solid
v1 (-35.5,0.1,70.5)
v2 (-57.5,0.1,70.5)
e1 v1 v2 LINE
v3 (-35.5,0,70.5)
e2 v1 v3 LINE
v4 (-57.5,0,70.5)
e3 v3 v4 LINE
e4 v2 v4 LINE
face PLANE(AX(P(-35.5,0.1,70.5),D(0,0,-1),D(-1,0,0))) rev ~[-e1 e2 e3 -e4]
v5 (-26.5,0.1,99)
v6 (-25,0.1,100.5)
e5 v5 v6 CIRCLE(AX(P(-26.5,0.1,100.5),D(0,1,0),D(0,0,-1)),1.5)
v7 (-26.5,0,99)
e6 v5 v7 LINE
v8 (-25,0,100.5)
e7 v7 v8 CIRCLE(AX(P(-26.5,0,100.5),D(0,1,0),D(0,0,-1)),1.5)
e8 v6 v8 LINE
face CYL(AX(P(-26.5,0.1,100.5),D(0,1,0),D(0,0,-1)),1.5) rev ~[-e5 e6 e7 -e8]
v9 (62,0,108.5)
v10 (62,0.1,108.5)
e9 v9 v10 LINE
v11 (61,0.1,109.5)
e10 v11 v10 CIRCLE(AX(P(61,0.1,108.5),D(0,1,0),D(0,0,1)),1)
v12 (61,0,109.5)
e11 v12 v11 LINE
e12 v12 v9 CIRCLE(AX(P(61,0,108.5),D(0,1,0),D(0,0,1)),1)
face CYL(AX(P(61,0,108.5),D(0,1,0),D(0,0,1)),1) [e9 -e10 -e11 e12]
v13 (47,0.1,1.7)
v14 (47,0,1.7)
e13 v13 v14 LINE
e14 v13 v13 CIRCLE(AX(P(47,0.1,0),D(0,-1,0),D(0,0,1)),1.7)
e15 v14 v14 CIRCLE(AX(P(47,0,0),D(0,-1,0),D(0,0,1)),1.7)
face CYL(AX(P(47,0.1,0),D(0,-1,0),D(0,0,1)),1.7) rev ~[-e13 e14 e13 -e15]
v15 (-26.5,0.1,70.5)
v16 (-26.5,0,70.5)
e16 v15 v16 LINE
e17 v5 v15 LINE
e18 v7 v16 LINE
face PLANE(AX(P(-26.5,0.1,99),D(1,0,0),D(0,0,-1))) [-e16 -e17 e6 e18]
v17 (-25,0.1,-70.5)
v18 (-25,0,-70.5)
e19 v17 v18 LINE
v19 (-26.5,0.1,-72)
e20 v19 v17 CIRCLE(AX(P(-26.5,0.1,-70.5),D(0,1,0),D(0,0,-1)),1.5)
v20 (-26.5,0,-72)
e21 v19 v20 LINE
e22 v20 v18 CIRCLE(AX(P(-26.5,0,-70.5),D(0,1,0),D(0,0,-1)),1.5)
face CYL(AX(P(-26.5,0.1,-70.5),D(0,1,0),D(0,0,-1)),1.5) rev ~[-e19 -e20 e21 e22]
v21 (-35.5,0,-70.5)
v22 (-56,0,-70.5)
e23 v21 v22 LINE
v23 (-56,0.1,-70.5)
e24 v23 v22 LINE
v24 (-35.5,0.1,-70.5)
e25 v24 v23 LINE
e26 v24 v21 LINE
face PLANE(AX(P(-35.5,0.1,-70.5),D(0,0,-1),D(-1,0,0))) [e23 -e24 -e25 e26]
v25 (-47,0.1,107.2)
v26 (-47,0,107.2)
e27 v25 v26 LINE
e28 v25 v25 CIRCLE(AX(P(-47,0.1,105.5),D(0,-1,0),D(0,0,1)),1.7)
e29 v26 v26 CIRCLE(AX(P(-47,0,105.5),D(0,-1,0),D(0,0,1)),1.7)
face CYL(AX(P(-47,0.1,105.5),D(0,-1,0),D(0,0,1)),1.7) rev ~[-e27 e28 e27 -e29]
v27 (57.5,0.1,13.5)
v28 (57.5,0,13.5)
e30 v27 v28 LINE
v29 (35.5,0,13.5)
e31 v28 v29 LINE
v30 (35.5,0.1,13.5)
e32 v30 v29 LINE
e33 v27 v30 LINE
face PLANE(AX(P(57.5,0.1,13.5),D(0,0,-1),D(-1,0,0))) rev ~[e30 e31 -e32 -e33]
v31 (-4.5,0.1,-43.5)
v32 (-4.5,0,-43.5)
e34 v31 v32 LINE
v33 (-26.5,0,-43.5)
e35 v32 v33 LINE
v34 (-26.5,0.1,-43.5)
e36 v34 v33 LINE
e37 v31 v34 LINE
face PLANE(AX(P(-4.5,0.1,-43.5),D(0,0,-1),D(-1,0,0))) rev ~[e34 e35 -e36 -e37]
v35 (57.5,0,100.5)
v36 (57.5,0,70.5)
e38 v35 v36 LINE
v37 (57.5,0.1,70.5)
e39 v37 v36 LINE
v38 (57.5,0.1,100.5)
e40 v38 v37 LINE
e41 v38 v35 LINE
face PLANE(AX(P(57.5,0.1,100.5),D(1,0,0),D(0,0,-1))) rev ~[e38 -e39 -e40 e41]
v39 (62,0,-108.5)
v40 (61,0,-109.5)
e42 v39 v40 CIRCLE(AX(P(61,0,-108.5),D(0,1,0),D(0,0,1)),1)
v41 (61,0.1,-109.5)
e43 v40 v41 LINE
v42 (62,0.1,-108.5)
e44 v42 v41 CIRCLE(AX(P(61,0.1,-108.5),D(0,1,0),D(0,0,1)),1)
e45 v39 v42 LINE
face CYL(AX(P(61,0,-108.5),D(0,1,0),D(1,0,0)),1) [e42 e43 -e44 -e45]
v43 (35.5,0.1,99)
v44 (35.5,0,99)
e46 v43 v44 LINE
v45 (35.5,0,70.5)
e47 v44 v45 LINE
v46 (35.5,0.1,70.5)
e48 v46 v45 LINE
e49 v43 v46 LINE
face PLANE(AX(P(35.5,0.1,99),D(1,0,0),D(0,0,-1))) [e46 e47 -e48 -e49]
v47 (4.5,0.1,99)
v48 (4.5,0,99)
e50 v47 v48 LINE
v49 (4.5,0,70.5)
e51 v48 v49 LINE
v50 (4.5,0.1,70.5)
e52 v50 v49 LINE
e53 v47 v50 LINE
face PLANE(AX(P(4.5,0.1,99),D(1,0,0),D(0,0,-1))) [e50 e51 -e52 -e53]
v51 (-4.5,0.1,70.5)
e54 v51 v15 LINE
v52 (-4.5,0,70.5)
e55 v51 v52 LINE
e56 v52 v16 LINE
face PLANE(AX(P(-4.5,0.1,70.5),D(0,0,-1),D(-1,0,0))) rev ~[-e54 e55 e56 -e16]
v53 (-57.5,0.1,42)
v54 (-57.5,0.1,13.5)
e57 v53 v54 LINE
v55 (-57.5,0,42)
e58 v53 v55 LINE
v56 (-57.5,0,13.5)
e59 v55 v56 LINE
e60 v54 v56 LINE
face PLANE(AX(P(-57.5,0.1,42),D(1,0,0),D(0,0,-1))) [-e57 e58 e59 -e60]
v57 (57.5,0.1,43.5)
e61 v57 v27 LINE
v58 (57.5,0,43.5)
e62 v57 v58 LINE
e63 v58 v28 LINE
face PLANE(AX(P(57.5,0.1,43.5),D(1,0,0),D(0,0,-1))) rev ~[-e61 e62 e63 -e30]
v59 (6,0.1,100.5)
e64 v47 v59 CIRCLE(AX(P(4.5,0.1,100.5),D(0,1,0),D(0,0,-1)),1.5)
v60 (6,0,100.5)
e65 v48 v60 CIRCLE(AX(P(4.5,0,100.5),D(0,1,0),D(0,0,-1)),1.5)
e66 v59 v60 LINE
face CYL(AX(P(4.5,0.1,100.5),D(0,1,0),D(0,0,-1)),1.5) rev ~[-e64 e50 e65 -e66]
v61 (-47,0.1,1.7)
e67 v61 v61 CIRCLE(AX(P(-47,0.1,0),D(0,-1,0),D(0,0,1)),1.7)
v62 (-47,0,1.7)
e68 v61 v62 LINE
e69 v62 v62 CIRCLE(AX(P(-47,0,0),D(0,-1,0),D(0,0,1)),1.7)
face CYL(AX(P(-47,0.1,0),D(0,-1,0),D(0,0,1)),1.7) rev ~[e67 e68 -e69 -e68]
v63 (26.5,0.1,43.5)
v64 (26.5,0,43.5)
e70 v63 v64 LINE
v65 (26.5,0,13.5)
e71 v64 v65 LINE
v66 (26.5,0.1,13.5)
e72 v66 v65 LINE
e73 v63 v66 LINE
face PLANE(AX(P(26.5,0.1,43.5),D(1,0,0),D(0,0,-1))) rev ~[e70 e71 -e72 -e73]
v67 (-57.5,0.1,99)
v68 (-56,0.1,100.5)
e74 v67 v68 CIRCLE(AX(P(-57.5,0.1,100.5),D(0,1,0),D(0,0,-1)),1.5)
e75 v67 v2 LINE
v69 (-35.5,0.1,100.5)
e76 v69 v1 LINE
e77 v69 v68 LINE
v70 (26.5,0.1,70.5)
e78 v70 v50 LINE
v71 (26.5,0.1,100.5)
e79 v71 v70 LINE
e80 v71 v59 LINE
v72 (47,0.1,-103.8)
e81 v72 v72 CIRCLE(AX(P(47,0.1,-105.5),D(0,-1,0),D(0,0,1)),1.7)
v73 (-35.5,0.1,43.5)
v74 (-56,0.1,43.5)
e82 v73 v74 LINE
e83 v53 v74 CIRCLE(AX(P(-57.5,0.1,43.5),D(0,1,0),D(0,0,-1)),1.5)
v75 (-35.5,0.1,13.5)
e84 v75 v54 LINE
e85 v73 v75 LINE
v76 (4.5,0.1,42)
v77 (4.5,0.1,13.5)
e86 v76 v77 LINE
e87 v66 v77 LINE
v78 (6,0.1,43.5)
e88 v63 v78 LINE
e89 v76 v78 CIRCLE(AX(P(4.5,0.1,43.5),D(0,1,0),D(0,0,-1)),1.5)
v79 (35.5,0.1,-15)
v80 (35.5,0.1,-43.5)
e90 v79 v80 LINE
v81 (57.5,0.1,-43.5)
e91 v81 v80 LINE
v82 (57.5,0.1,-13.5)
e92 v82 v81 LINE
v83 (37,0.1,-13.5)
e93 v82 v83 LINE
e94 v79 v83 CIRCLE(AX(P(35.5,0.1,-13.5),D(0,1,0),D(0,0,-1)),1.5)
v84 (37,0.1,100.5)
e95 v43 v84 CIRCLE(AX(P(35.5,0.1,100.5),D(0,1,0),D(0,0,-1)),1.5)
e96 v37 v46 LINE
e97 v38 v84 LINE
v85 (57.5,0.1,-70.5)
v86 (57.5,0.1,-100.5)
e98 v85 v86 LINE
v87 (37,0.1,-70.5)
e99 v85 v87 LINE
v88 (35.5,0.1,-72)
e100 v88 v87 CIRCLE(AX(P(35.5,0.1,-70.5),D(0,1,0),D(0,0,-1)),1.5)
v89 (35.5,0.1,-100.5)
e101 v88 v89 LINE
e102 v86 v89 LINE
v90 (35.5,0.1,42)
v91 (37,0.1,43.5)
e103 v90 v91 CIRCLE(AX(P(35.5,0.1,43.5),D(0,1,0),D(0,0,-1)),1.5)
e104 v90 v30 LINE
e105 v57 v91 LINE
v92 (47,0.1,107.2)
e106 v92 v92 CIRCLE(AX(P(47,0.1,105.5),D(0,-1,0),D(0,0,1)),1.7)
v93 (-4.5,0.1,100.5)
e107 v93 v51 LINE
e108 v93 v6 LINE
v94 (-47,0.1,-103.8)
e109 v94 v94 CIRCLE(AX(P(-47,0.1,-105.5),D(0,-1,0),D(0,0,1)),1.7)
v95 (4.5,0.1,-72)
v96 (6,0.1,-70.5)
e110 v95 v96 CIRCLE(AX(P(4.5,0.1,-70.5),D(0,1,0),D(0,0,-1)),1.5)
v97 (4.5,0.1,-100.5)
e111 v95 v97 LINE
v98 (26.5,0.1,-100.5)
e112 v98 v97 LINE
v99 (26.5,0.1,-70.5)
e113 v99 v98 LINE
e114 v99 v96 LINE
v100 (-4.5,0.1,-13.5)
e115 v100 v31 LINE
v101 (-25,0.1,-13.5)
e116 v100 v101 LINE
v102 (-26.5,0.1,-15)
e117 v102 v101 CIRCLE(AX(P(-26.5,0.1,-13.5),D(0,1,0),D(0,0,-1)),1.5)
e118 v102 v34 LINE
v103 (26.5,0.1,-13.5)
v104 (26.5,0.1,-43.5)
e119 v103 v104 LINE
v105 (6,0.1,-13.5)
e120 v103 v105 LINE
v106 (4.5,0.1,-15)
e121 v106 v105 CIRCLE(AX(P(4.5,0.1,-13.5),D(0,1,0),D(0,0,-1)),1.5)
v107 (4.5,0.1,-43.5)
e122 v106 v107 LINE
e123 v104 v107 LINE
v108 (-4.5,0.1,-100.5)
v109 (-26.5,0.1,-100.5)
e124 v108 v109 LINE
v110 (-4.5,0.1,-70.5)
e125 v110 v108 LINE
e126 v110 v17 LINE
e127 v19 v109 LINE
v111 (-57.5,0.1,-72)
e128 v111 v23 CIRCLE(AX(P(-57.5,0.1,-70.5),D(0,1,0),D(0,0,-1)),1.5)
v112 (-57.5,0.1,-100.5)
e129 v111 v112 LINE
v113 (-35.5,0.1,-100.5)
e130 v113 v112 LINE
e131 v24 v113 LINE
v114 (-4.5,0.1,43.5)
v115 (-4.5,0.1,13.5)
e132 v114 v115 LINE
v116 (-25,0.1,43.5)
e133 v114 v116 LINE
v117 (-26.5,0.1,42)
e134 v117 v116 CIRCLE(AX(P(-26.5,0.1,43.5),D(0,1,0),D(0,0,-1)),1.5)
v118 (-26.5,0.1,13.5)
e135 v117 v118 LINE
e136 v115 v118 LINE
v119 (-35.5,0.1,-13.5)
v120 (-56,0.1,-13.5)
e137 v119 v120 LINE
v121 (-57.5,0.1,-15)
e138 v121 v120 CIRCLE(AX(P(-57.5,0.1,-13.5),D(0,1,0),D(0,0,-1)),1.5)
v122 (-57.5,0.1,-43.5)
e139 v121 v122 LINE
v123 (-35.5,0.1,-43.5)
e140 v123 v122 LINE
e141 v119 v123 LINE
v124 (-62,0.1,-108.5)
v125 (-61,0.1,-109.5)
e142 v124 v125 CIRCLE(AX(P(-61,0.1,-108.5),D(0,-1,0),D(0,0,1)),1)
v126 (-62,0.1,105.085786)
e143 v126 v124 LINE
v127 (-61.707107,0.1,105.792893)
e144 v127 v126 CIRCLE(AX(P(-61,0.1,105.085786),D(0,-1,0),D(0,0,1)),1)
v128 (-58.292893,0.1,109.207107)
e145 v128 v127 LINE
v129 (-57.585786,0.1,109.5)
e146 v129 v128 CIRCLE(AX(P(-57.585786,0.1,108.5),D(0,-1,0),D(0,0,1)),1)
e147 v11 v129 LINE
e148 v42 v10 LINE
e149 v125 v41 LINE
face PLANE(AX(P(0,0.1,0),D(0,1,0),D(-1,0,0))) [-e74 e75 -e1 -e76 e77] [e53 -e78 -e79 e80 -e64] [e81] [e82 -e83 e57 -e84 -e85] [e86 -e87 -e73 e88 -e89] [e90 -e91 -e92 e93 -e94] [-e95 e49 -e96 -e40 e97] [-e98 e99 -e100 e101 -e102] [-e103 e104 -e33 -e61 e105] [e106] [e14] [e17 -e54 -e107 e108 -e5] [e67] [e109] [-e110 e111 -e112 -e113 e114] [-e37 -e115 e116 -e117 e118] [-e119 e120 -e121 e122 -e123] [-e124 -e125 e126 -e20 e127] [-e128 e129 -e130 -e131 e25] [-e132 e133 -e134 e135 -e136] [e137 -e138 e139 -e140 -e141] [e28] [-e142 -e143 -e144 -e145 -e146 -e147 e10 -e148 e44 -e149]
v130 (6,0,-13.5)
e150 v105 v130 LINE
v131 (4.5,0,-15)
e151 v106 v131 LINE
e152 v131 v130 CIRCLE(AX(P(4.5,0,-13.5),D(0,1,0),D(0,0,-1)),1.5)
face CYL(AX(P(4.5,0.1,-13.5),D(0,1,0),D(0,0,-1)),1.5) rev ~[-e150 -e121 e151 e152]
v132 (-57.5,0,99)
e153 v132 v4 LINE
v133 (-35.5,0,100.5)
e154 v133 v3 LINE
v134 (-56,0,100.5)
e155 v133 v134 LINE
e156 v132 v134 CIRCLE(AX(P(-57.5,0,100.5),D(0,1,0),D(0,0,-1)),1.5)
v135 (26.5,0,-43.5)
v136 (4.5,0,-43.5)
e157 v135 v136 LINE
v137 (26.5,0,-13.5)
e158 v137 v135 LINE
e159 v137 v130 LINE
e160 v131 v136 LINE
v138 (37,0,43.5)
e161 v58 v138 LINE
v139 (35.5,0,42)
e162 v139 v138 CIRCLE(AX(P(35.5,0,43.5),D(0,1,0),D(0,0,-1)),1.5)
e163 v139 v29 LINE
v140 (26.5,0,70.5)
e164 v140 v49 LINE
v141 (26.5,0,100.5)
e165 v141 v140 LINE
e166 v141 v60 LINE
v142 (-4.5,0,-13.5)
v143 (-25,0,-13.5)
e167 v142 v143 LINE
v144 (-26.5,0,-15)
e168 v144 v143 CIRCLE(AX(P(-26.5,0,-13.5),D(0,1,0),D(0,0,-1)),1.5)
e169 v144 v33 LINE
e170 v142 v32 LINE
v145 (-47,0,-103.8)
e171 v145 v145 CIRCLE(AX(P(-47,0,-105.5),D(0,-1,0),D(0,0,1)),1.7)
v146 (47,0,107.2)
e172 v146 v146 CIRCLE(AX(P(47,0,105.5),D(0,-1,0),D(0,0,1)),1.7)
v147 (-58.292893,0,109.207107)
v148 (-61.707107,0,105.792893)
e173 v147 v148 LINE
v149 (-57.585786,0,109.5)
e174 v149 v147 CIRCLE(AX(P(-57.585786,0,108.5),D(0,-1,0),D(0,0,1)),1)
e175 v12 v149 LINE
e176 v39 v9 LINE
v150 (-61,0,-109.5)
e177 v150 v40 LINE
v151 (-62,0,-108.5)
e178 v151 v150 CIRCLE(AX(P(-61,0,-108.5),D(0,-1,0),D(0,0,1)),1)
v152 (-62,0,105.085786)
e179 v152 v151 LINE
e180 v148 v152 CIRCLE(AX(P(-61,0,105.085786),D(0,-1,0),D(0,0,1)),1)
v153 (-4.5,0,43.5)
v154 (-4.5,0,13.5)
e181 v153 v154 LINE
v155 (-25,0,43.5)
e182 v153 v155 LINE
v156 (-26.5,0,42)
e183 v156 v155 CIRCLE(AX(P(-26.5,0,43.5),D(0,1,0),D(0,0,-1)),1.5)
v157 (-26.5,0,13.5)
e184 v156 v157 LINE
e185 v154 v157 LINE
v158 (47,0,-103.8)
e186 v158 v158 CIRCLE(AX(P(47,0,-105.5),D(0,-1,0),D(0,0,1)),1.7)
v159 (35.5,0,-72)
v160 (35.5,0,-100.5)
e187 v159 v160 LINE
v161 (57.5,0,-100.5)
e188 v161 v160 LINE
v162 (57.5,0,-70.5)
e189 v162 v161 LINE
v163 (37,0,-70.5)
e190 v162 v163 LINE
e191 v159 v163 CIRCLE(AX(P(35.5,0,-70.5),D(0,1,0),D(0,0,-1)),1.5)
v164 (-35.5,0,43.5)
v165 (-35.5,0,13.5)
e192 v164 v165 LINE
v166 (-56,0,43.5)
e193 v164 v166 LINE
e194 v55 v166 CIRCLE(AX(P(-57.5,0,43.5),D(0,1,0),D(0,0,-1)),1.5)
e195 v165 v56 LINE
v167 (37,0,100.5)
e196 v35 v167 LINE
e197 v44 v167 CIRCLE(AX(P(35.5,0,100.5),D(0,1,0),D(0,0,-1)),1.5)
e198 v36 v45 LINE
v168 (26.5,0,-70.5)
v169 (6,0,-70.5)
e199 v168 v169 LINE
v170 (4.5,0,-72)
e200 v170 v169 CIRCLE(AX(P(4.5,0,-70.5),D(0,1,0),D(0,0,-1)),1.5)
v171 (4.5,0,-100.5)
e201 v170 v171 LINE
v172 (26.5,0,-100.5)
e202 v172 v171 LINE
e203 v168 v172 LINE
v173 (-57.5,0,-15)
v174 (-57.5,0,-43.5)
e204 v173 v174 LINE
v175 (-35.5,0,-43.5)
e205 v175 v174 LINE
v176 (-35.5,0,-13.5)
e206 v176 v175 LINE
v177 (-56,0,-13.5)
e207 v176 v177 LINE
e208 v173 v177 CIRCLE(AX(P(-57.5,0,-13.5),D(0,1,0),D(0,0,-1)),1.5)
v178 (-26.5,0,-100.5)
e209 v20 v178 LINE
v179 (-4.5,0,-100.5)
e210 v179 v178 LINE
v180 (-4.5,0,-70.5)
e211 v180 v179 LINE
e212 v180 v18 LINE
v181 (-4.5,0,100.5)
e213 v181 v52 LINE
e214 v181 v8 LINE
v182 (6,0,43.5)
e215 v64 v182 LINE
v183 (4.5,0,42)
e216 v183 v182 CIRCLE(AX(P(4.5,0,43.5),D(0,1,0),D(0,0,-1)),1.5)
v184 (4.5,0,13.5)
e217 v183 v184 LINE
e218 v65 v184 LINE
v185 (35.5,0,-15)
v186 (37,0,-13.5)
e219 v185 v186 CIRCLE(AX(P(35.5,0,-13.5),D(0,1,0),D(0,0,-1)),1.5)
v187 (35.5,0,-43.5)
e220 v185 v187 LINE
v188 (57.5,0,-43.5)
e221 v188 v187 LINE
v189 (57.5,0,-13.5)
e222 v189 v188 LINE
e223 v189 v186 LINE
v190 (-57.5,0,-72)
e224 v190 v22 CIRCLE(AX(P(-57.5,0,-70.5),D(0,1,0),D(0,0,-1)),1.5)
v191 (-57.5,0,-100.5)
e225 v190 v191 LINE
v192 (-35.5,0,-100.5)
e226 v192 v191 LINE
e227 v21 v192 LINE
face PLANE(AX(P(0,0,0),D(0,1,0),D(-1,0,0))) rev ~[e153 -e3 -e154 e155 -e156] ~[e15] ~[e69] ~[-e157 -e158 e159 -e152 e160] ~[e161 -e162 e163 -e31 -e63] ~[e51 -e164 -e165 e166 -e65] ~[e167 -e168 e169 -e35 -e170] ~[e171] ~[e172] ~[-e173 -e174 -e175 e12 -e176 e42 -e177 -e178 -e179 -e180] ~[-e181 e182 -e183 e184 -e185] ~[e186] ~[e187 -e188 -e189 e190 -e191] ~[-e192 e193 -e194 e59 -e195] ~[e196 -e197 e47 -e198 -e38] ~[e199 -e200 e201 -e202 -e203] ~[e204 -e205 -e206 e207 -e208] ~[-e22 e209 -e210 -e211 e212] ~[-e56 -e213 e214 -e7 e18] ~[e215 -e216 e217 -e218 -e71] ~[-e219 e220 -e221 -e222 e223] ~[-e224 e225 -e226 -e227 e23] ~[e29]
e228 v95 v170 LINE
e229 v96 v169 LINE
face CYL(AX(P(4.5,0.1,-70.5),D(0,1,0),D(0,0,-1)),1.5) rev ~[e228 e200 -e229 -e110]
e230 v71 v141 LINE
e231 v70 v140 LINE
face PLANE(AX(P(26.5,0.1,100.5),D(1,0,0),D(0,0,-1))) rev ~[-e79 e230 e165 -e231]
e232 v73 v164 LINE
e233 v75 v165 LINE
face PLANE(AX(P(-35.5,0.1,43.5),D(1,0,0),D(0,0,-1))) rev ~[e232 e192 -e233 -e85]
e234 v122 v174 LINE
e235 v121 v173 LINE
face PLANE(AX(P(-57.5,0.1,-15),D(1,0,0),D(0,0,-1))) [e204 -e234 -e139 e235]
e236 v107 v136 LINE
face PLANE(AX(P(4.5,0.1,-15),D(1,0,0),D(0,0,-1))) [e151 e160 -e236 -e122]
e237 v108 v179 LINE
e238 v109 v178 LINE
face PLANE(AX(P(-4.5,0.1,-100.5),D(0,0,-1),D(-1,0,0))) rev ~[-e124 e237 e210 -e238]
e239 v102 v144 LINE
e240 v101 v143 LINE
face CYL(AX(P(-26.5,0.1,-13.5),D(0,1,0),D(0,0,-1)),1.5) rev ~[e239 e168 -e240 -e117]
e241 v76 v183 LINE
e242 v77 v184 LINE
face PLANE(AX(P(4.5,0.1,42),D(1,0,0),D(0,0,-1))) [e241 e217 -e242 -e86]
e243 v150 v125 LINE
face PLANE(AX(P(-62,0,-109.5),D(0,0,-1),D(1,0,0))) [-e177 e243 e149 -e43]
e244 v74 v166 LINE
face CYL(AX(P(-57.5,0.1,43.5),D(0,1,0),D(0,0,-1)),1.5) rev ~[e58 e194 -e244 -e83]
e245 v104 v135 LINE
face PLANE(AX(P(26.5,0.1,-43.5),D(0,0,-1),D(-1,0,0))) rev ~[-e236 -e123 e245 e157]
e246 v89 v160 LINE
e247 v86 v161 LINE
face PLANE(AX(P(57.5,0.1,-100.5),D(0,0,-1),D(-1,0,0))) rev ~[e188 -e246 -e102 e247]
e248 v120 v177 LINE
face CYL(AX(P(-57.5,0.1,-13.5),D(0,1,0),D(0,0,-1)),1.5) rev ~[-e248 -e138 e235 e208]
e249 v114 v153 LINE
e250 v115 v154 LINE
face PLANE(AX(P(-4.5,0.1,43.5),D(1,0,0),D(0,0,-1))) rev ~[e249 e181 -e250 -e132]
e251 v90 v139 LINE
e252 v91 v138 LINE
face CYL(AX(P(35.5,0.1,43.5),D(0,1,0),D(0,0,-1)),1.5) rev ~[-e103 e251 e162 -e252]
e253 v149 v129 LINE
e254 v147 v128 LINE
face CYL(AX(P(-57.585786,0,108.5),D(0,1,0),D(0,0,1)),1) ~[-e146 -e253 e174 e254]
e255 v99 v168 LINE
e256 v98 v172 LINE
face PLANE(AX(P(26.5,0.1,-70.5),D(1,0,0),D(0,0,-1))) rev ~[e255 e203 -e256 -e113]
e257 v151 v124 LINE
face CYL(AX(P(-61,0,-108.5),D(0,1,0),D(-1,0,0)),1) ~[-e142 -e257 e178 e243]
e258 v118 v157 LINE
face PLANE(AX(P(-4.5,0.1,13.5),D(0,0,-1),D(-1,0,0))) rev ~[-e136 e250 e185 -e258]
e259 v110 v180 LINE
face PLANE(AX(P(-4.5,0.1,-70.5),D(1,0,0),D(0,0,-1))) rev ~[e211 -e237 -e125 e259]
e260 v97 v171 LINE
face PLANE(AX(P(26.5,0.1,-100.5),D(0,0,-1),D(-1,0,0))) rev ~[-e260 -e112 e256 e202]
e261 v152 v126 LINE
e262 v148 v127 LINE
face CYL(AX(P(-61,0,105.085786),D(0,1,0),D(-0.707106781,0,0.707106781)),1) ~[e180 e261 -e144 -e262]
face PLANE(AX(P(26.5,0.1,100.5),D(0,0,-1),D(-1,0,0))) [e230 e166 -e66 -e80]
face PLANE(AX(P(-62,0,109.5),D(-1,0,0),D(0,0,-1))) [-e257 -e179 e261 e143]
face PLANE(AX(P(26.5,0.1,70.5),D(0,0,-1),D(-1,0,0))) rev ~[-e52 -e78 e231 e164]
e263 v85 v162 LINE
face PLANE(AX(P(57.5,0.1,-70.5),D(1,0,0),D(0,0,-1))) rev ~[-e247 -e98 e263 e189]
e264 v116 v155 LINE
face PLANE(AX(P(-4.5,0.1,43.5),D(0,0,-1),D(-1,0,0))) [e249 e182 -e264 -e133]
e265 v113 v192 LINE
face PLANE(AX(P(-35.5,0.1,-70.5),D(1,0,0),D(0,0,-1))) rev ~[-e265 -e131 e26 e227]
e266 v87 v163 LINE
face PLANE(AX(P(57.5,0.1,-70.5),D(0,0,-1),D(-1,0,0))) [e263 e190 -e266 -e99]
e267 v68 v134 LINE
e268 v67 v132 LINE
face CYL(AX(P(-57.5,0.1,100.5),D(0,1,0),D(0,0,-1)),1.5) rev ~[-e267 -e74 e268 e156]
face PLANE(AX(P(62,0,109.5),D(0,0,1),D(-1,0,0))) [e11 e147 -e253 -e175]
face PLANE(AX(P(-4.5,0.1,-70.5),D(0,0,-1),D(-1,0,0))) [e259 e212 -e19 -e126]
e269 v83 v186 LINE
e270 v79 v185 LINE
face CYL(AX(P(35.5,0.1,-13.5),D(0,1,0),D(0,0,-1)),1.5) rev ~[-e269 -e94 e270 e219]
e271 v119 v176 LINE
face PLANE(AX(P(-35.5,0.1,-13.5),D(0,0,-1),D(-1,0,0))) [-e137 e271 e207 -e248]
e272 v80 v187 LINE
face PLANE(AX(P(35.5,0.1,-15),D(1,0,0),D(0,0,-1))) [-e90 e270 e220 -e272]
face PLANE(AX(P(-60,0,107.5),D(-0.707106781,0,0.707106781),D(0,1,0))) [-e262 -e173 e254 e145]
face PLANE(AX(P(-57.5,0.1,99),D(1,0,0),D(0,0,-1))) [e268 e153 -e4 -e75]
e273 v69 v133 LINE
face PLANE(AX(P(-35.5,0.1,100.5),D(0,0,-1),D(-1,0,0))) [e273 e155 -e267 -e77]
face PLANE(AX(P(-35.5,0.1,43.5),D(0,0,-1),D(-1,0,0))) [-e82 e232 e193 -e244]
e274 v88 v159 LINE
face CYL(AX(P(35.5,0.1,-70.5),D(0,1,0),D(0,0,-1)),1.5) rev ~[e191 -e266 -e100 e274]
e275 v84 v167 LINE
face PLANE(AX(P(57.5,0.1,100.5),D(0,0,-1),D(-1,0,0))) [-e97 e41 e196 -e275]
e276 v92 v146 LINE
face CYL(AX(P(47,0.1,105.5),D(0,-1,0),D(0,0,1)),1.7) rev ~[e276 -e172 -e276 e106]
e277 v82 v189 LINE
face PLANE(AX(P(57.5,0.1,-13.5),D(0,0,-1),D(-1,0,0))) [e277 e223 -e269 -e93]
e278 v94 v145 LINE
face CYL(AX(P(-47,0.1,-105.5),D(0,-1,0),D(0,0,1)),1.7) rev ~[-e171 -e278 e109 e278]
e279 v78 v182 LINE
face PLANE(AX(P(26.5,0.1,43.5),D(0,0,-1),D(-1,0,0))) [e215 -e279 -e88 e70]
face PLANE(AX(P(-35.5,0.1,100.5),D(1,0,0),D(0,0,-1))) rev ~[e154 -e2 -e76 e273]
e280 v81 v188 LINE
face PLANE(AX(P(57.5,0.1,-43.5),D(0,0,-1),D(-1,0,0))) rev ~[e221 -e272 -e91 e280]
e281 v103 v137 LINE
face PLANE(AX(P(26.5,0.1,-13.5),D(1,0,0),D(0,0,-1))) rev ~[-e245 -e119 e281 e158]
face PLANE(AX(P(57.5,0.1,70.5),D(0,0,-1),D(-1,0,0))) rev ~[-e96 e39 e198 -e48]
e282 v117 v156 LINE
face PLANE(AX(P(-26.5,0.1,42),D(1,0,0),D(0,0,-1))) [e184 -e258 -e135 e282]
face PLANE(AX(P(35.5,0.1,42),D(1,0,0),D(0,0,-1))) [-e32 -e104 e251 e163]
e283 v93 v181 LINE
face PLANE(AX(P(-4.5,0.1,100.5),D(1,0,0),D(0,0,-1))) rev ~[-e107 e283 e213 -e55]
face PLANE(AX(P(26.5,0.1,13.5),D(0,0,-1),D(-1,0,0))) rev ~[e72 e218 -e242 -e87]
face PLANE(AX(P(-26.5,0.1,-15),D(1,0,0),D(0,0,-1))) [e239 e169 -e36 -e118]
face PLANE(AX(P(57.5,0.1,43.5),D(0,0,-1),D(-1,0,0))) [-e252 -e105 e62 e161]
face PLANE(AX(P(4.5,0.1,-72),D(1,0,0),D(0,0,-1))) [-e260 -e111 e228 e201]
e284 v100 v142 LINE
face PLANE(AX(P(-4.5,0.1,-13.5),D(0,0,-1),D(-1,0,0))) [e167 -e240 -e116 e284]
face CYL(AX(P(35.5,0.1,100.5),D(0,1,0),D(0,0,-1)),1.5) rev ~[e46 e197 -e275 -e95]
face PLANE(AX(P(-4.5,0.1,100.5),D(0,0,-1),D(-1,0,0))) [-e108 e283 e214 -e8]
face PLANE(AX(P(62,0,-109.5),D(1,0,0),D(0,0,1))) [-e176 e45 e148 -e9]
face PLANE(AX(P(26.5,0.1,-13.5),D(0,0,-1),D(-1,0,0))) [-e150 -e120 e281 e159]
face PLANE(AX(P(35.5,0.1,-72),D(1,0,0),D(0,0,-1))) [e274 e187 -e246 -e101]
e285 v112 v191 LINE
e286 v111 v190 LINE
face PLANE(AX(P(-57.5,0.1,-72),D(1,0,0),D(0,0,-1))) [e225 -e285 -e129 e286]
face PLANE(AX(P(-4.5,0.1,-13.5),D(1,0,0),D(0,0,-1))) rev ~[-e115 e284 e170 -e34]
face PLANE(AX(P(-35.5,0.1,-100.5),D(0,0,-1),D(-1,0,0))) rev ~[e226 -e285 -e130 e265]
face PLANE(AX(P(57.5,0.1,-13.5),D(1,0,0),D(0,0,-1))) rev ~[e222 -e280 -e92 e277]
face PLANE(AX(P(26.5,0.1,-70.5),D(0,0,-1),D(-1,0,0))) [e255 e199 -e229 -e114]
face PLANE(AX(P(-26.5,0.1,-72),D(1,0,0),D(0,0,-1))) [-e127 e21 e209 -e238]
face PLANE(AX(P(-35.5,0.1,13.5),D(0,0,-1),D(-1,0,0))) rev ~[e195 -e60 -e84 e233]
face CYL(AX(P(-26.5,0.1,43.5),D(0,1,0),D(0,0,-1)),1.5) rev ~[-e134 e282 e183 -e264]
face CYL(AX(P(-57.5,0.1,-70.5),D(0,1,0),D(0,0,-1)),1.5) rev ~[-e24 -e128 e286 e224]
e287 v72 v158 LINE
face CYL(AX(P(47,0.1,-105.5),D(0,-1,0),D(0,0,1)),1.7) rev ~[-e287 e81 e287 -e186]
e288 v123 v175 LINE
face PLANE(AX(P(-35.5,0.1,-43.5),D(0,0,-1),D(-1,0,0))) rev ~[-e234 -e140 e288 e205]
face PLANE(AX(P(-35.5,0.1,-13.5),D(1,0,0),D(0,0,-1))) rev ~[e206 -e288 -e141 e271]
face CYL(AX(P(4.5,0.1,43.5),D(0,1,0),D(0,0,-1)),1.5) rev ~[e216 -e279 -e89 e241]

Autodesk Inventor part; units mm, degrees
ref_plane "YZ Plane" through (0, 0, 0) normal (1, 0, 0) x (0, 1, 0)
ref_plane "XZ Plane" through (0, 0, 0) normal (0, 1, 0) x (-1, 0, 0)
ref_plane "XY Plane" through (0, 0, 0) normal (0, 0, 1) x (1, 0, 0)
sketch "Sketch1" plane through (0, 0, 0) normal (0, 1, 0) x (-1, 0, 0)
  line L0 (-62, 109.5) -> (62, 109.5)
  line L1 (62, 109.5) -> (62, -109.5)
  line L2 (62, -109.5) -> (-62, -109.5)
  line L3 (-62, -109.5) -> (-62, 109.5)
  line L4 (-62, 109.5) -> (62, -109.5) construction
  line L5 (62, 109.5) -> (-62, -109.5) construction
  point P0 (0, 0)
  dimension "d0" = 219
  dimension "d1" = 124
extrude "Extrusion1" add sketch "Sketch1" along normal blind 0.1
chamfer "Chamfer1" distance 4 angle 45 1 edges at (-62, 0.05, 109.5)
sketch "Sketch2" plane through (0, 0.1, 0) normal (0, 1, 0) x (1, 0, 0)
  line L0 (-35.5, -100.5) -> (-35.5, -70.5)
  line L1 (-35.5, -70.5) -> (-57.5, -70.5)
  line L2 (-62, 109.5) -> (-62, -109.5) projected
  line L3 (-62, -109.5) -> (62, -109.5) projected
  arc A0 (-57.5, -99) -> (-56, -100.5) centre (-57.5, -100.5) ccw
  line L4 (-35.5, -100.5) -> (-56, -100.5)
  line L5 (-57.5, -99) -> (-57.5, -70.5)
  line L6 (62, -109.5) -> (62, 109.5) projected
  line L7 (-35.5, -43.5) -> (-35.5, -13.5)
  line L8 (-35.5, -43.5) -> (-56, -43.5)
  line L9 (-35.5, -13.5) -> (-57.5, -13.5)
  line L10 (-57.5, -42) -> (-57.5, -13.5)
  arc A1 (-57.5, -42) -> (-56, -43.5) centre (-57.5, -43.5) ccw
  line L11 (-35.5, 13.5) -> (-35.5, 43.5)
  line L12 (-35.5, 13.5) -> (-56, 13.5)
  line L13 (-35.5, 43.5) -> (-57.5, 43.5)
  line L14 (-57.5, 15) -> (-57.5, 43.5)
  arc A2 (-57.5, 15) -> (-56, 13.5) centre (-57.5, 13.5) ccw
  line L15 (-35.5, 70.5) -> (-35.5, 100.5)
  line L16 (-35.5, 70.5) -> (-56, 70.5)
  line L17 (-35.5, 100.5) -> (-57.5, 100.5)
  line L18 (-57.5, 72) -> (-57.5, 100.5)
  arc A3 (-57.5, 72) -> (-56, 70.5) centre (-57.5, 70.5) ccw
  line L19 (-4.5, -100.5) -> (-4.5, -70.5)
  line L20 (-4.5, -100.5) -> (-25, -100.5)
  line L21 (-4.5, -70.5) -> (-26.5, -70.5)
  line L22 (-26.5, -99) -> (-26.5, -70.5)
  arc A4 (-26.5, -99) -> (-25, -100.5) centre (-26.5, -100.5) ccw
  line L23 (-4.5, -43.5) -> (-4.5, -13.5)
  line L24 (-4.5, -43.5) -> (-25, -43.5)
  line L25 (-4.5, -13.5) -> (-26.5, -13.5)
  line L26 (-26.5, -42) -> (-26.5, -13.5)
  arc A5 (-26.5, -42) -> (-25, -43.5) centre (-26.5, -43.5) ccw
  line L27 (-4.5, 13.5) -> (-4.5, 43.5)
  line L28 (-4.5, 13.5) -> (-25, 13.5)
  line L29 (-4.5, 43.5) -> (-26.5, 43.5)
  line L30 (-26.5, 15) -> (-26.5, 43.5)
  arc A6 (-26.5, 15) -> (-25, 13.5) centre (-26.5, 13.5) ccw
  line L31 (-4.5, 70.5) -> (-4.5, 100.5)
  line L32 (-4.5, 70.5) -> (-25, 70.5)
  line L33 (-4.5, 100.5) -> (-26.5, 100.5)
  line L34 (-26.5, 72) -> (-26.5, 100.5)
  arc A7 (-26.5, 72) -> (-25, 70.5) centre (-26.5, 70.5) ccw
  line L35 (26.5, -100.5) -> (26.5, -70.5)
  line L36 (26.5, -100.5) -> (6, -100.5)
  line L37 (26.5, -70.5) -> (4.5, -70.5)
  line L38 (4.5, -99) -> (4.5, -70.5)
  arc A8 (4.5, -99) -> (6, -100.5) centre (4.5, -100.5) ccw
  line L39 (26.5, -43.5) -> (26.5, -13.5)
  line L40 (26.5, -43.5) -> (6, -43.5)
  line L41 (26.5, -13.5) -> (4.5, -13.5)
  line L42 (4.5, -42) -> (4.5, -13.5)
  arc A9 (4.5, -42) -> (6, -43.5) centre (4.5, -43.5) ccw
  line L43 (26.5, 13.5) -> (26.5, 43.5)
  line L44 (26.5, 13.5) -> (6, 13.5)
  line L45 (26.5, 43.5) -> (4.5, 43.5)
  line L46 (4.5, 15) -> (4.5, 43.5)
  arc A10 (4.5, 15) -> (6, 13.5) centre (4.5, 13.5) ccw
  line L47 (26.5, 70.5) -> (26.5, 100.5)
  line L48 (26.5, 70.5) -> (6, 70.5)
  line L49 (26.5, 100.5) -> (4.5, 100.5)
  line L50 (4.5, 72) -> (4.5, 100.5)
  arc A11 (4.5, 72) -> (6, 70.5) centre (4.5, 70.5) ccw
  line L51 (57.5, -100.5) -> (57.5, -70.5)
  line L52 (57.5, -100.5) -> (37, -100.5)
  line L53 (57.5, -70.5) -> (35.5, -70.5)
  line L54 (35.5, -99) -> (35.5, -70.5)
  arc A12 (35.5, -99) -> (37, -100.5) centre (35.5, -100.5) ccw
  line L55 (57.5, -43.5) -> (57.5, -13.5)
  line L56 (57.5, -43.5) -> (37, -43.5)
  line L57 (57.5, -13.5) -> (35.5, -13.5)
  line L58 (35.5, -42) -> (35.5, -13.5)
  arc A13 (35.5, -42) -> (37, -43.5) centre (35.5, -43.5) ccw
  line L59 (57.5, 13.5) -> (57.5, 43.5)
  line L60 (57.5, 13.5) -> (37, 13.5)
  line L61 (57.5, 43.5) -> (35.5, 43.5)
  line L62 (35.5, 15) -> (35.5, 43.5)
  arc A14 (35.5, 15) -> (37, 13.5) centre (35.5, 13.5) ccw
  line L63 (57.5, 70.5) -> (57.5, 100.5)
  line L64 (57.5, 70.5) -> (37, 70.5)
  line L65 (57.5, 100.5) -> (35.5, 100.5)
  line L66 (35.5, 72) -> (35.5, 100.5)
  arc A15 (35.5, 72) -> (37, 70.5) centre (35.5, 70.5) ccw
  dimension "d46" = 1.5
  dimension "d47" = 30
  dimension "d50" = 9
  dimension "d51" = 4.5
  dimension "d62" = 57
  dimension "d65" = 31
  dimension "d77" = 22
extrude "Extrusion2" cut sketch "Sketch2" against normal through all
fillet "Fillet1" radius 1 5 edges at (62, 0.05, 109.5) (-58, 0.05, 109.5) (-62, 0.05, 105.5) (62, 0.05, -109.5) (-62, 0.05, -109.5)
sketch "Sketch3" plane through (0, 0.1, 0) normal (0, 1, 0) x (1, 0, 0)
  line L0 (-62, 108.5) -> (-62, -105.0858) projected
  line L1 (62, -108.5) -> (62, 108.5) projected
  line L2 (-57.5858, -109.5) -> (61, -109.5) projected
  line L3 (61, 109.5) -> (-61, 109.5) projected
  point P0 (0, 0)
  point P1 (-47, -105.5)
  point P2 (47, -105.5)
  point P3 (47, 105.5)
  point P4 (-47, 105.5)
  point P5 (-47, 0)
  point P6 (47, 0)
  dimension "d90" = 15
  dimension "d91" = 15
  dimension "d92" = 4
  dimension "d93" = 4
hole "Hole1" at (-47, 0.1, 105.5) at (47, 0.1, 105.5) at (47, 0.1, -105.5) at (-47, 0.1, -105.5) at (-47, 0.1, 0) at (47, 0.1, 0) direction (0, -1, 0) diameter 3.4 end through all clearance for "Flat Head Machine Screw" size "M3" standard "Ansi Metric M Profile"
properties part number "Assembly Stencil" material "Stainless Steel"
